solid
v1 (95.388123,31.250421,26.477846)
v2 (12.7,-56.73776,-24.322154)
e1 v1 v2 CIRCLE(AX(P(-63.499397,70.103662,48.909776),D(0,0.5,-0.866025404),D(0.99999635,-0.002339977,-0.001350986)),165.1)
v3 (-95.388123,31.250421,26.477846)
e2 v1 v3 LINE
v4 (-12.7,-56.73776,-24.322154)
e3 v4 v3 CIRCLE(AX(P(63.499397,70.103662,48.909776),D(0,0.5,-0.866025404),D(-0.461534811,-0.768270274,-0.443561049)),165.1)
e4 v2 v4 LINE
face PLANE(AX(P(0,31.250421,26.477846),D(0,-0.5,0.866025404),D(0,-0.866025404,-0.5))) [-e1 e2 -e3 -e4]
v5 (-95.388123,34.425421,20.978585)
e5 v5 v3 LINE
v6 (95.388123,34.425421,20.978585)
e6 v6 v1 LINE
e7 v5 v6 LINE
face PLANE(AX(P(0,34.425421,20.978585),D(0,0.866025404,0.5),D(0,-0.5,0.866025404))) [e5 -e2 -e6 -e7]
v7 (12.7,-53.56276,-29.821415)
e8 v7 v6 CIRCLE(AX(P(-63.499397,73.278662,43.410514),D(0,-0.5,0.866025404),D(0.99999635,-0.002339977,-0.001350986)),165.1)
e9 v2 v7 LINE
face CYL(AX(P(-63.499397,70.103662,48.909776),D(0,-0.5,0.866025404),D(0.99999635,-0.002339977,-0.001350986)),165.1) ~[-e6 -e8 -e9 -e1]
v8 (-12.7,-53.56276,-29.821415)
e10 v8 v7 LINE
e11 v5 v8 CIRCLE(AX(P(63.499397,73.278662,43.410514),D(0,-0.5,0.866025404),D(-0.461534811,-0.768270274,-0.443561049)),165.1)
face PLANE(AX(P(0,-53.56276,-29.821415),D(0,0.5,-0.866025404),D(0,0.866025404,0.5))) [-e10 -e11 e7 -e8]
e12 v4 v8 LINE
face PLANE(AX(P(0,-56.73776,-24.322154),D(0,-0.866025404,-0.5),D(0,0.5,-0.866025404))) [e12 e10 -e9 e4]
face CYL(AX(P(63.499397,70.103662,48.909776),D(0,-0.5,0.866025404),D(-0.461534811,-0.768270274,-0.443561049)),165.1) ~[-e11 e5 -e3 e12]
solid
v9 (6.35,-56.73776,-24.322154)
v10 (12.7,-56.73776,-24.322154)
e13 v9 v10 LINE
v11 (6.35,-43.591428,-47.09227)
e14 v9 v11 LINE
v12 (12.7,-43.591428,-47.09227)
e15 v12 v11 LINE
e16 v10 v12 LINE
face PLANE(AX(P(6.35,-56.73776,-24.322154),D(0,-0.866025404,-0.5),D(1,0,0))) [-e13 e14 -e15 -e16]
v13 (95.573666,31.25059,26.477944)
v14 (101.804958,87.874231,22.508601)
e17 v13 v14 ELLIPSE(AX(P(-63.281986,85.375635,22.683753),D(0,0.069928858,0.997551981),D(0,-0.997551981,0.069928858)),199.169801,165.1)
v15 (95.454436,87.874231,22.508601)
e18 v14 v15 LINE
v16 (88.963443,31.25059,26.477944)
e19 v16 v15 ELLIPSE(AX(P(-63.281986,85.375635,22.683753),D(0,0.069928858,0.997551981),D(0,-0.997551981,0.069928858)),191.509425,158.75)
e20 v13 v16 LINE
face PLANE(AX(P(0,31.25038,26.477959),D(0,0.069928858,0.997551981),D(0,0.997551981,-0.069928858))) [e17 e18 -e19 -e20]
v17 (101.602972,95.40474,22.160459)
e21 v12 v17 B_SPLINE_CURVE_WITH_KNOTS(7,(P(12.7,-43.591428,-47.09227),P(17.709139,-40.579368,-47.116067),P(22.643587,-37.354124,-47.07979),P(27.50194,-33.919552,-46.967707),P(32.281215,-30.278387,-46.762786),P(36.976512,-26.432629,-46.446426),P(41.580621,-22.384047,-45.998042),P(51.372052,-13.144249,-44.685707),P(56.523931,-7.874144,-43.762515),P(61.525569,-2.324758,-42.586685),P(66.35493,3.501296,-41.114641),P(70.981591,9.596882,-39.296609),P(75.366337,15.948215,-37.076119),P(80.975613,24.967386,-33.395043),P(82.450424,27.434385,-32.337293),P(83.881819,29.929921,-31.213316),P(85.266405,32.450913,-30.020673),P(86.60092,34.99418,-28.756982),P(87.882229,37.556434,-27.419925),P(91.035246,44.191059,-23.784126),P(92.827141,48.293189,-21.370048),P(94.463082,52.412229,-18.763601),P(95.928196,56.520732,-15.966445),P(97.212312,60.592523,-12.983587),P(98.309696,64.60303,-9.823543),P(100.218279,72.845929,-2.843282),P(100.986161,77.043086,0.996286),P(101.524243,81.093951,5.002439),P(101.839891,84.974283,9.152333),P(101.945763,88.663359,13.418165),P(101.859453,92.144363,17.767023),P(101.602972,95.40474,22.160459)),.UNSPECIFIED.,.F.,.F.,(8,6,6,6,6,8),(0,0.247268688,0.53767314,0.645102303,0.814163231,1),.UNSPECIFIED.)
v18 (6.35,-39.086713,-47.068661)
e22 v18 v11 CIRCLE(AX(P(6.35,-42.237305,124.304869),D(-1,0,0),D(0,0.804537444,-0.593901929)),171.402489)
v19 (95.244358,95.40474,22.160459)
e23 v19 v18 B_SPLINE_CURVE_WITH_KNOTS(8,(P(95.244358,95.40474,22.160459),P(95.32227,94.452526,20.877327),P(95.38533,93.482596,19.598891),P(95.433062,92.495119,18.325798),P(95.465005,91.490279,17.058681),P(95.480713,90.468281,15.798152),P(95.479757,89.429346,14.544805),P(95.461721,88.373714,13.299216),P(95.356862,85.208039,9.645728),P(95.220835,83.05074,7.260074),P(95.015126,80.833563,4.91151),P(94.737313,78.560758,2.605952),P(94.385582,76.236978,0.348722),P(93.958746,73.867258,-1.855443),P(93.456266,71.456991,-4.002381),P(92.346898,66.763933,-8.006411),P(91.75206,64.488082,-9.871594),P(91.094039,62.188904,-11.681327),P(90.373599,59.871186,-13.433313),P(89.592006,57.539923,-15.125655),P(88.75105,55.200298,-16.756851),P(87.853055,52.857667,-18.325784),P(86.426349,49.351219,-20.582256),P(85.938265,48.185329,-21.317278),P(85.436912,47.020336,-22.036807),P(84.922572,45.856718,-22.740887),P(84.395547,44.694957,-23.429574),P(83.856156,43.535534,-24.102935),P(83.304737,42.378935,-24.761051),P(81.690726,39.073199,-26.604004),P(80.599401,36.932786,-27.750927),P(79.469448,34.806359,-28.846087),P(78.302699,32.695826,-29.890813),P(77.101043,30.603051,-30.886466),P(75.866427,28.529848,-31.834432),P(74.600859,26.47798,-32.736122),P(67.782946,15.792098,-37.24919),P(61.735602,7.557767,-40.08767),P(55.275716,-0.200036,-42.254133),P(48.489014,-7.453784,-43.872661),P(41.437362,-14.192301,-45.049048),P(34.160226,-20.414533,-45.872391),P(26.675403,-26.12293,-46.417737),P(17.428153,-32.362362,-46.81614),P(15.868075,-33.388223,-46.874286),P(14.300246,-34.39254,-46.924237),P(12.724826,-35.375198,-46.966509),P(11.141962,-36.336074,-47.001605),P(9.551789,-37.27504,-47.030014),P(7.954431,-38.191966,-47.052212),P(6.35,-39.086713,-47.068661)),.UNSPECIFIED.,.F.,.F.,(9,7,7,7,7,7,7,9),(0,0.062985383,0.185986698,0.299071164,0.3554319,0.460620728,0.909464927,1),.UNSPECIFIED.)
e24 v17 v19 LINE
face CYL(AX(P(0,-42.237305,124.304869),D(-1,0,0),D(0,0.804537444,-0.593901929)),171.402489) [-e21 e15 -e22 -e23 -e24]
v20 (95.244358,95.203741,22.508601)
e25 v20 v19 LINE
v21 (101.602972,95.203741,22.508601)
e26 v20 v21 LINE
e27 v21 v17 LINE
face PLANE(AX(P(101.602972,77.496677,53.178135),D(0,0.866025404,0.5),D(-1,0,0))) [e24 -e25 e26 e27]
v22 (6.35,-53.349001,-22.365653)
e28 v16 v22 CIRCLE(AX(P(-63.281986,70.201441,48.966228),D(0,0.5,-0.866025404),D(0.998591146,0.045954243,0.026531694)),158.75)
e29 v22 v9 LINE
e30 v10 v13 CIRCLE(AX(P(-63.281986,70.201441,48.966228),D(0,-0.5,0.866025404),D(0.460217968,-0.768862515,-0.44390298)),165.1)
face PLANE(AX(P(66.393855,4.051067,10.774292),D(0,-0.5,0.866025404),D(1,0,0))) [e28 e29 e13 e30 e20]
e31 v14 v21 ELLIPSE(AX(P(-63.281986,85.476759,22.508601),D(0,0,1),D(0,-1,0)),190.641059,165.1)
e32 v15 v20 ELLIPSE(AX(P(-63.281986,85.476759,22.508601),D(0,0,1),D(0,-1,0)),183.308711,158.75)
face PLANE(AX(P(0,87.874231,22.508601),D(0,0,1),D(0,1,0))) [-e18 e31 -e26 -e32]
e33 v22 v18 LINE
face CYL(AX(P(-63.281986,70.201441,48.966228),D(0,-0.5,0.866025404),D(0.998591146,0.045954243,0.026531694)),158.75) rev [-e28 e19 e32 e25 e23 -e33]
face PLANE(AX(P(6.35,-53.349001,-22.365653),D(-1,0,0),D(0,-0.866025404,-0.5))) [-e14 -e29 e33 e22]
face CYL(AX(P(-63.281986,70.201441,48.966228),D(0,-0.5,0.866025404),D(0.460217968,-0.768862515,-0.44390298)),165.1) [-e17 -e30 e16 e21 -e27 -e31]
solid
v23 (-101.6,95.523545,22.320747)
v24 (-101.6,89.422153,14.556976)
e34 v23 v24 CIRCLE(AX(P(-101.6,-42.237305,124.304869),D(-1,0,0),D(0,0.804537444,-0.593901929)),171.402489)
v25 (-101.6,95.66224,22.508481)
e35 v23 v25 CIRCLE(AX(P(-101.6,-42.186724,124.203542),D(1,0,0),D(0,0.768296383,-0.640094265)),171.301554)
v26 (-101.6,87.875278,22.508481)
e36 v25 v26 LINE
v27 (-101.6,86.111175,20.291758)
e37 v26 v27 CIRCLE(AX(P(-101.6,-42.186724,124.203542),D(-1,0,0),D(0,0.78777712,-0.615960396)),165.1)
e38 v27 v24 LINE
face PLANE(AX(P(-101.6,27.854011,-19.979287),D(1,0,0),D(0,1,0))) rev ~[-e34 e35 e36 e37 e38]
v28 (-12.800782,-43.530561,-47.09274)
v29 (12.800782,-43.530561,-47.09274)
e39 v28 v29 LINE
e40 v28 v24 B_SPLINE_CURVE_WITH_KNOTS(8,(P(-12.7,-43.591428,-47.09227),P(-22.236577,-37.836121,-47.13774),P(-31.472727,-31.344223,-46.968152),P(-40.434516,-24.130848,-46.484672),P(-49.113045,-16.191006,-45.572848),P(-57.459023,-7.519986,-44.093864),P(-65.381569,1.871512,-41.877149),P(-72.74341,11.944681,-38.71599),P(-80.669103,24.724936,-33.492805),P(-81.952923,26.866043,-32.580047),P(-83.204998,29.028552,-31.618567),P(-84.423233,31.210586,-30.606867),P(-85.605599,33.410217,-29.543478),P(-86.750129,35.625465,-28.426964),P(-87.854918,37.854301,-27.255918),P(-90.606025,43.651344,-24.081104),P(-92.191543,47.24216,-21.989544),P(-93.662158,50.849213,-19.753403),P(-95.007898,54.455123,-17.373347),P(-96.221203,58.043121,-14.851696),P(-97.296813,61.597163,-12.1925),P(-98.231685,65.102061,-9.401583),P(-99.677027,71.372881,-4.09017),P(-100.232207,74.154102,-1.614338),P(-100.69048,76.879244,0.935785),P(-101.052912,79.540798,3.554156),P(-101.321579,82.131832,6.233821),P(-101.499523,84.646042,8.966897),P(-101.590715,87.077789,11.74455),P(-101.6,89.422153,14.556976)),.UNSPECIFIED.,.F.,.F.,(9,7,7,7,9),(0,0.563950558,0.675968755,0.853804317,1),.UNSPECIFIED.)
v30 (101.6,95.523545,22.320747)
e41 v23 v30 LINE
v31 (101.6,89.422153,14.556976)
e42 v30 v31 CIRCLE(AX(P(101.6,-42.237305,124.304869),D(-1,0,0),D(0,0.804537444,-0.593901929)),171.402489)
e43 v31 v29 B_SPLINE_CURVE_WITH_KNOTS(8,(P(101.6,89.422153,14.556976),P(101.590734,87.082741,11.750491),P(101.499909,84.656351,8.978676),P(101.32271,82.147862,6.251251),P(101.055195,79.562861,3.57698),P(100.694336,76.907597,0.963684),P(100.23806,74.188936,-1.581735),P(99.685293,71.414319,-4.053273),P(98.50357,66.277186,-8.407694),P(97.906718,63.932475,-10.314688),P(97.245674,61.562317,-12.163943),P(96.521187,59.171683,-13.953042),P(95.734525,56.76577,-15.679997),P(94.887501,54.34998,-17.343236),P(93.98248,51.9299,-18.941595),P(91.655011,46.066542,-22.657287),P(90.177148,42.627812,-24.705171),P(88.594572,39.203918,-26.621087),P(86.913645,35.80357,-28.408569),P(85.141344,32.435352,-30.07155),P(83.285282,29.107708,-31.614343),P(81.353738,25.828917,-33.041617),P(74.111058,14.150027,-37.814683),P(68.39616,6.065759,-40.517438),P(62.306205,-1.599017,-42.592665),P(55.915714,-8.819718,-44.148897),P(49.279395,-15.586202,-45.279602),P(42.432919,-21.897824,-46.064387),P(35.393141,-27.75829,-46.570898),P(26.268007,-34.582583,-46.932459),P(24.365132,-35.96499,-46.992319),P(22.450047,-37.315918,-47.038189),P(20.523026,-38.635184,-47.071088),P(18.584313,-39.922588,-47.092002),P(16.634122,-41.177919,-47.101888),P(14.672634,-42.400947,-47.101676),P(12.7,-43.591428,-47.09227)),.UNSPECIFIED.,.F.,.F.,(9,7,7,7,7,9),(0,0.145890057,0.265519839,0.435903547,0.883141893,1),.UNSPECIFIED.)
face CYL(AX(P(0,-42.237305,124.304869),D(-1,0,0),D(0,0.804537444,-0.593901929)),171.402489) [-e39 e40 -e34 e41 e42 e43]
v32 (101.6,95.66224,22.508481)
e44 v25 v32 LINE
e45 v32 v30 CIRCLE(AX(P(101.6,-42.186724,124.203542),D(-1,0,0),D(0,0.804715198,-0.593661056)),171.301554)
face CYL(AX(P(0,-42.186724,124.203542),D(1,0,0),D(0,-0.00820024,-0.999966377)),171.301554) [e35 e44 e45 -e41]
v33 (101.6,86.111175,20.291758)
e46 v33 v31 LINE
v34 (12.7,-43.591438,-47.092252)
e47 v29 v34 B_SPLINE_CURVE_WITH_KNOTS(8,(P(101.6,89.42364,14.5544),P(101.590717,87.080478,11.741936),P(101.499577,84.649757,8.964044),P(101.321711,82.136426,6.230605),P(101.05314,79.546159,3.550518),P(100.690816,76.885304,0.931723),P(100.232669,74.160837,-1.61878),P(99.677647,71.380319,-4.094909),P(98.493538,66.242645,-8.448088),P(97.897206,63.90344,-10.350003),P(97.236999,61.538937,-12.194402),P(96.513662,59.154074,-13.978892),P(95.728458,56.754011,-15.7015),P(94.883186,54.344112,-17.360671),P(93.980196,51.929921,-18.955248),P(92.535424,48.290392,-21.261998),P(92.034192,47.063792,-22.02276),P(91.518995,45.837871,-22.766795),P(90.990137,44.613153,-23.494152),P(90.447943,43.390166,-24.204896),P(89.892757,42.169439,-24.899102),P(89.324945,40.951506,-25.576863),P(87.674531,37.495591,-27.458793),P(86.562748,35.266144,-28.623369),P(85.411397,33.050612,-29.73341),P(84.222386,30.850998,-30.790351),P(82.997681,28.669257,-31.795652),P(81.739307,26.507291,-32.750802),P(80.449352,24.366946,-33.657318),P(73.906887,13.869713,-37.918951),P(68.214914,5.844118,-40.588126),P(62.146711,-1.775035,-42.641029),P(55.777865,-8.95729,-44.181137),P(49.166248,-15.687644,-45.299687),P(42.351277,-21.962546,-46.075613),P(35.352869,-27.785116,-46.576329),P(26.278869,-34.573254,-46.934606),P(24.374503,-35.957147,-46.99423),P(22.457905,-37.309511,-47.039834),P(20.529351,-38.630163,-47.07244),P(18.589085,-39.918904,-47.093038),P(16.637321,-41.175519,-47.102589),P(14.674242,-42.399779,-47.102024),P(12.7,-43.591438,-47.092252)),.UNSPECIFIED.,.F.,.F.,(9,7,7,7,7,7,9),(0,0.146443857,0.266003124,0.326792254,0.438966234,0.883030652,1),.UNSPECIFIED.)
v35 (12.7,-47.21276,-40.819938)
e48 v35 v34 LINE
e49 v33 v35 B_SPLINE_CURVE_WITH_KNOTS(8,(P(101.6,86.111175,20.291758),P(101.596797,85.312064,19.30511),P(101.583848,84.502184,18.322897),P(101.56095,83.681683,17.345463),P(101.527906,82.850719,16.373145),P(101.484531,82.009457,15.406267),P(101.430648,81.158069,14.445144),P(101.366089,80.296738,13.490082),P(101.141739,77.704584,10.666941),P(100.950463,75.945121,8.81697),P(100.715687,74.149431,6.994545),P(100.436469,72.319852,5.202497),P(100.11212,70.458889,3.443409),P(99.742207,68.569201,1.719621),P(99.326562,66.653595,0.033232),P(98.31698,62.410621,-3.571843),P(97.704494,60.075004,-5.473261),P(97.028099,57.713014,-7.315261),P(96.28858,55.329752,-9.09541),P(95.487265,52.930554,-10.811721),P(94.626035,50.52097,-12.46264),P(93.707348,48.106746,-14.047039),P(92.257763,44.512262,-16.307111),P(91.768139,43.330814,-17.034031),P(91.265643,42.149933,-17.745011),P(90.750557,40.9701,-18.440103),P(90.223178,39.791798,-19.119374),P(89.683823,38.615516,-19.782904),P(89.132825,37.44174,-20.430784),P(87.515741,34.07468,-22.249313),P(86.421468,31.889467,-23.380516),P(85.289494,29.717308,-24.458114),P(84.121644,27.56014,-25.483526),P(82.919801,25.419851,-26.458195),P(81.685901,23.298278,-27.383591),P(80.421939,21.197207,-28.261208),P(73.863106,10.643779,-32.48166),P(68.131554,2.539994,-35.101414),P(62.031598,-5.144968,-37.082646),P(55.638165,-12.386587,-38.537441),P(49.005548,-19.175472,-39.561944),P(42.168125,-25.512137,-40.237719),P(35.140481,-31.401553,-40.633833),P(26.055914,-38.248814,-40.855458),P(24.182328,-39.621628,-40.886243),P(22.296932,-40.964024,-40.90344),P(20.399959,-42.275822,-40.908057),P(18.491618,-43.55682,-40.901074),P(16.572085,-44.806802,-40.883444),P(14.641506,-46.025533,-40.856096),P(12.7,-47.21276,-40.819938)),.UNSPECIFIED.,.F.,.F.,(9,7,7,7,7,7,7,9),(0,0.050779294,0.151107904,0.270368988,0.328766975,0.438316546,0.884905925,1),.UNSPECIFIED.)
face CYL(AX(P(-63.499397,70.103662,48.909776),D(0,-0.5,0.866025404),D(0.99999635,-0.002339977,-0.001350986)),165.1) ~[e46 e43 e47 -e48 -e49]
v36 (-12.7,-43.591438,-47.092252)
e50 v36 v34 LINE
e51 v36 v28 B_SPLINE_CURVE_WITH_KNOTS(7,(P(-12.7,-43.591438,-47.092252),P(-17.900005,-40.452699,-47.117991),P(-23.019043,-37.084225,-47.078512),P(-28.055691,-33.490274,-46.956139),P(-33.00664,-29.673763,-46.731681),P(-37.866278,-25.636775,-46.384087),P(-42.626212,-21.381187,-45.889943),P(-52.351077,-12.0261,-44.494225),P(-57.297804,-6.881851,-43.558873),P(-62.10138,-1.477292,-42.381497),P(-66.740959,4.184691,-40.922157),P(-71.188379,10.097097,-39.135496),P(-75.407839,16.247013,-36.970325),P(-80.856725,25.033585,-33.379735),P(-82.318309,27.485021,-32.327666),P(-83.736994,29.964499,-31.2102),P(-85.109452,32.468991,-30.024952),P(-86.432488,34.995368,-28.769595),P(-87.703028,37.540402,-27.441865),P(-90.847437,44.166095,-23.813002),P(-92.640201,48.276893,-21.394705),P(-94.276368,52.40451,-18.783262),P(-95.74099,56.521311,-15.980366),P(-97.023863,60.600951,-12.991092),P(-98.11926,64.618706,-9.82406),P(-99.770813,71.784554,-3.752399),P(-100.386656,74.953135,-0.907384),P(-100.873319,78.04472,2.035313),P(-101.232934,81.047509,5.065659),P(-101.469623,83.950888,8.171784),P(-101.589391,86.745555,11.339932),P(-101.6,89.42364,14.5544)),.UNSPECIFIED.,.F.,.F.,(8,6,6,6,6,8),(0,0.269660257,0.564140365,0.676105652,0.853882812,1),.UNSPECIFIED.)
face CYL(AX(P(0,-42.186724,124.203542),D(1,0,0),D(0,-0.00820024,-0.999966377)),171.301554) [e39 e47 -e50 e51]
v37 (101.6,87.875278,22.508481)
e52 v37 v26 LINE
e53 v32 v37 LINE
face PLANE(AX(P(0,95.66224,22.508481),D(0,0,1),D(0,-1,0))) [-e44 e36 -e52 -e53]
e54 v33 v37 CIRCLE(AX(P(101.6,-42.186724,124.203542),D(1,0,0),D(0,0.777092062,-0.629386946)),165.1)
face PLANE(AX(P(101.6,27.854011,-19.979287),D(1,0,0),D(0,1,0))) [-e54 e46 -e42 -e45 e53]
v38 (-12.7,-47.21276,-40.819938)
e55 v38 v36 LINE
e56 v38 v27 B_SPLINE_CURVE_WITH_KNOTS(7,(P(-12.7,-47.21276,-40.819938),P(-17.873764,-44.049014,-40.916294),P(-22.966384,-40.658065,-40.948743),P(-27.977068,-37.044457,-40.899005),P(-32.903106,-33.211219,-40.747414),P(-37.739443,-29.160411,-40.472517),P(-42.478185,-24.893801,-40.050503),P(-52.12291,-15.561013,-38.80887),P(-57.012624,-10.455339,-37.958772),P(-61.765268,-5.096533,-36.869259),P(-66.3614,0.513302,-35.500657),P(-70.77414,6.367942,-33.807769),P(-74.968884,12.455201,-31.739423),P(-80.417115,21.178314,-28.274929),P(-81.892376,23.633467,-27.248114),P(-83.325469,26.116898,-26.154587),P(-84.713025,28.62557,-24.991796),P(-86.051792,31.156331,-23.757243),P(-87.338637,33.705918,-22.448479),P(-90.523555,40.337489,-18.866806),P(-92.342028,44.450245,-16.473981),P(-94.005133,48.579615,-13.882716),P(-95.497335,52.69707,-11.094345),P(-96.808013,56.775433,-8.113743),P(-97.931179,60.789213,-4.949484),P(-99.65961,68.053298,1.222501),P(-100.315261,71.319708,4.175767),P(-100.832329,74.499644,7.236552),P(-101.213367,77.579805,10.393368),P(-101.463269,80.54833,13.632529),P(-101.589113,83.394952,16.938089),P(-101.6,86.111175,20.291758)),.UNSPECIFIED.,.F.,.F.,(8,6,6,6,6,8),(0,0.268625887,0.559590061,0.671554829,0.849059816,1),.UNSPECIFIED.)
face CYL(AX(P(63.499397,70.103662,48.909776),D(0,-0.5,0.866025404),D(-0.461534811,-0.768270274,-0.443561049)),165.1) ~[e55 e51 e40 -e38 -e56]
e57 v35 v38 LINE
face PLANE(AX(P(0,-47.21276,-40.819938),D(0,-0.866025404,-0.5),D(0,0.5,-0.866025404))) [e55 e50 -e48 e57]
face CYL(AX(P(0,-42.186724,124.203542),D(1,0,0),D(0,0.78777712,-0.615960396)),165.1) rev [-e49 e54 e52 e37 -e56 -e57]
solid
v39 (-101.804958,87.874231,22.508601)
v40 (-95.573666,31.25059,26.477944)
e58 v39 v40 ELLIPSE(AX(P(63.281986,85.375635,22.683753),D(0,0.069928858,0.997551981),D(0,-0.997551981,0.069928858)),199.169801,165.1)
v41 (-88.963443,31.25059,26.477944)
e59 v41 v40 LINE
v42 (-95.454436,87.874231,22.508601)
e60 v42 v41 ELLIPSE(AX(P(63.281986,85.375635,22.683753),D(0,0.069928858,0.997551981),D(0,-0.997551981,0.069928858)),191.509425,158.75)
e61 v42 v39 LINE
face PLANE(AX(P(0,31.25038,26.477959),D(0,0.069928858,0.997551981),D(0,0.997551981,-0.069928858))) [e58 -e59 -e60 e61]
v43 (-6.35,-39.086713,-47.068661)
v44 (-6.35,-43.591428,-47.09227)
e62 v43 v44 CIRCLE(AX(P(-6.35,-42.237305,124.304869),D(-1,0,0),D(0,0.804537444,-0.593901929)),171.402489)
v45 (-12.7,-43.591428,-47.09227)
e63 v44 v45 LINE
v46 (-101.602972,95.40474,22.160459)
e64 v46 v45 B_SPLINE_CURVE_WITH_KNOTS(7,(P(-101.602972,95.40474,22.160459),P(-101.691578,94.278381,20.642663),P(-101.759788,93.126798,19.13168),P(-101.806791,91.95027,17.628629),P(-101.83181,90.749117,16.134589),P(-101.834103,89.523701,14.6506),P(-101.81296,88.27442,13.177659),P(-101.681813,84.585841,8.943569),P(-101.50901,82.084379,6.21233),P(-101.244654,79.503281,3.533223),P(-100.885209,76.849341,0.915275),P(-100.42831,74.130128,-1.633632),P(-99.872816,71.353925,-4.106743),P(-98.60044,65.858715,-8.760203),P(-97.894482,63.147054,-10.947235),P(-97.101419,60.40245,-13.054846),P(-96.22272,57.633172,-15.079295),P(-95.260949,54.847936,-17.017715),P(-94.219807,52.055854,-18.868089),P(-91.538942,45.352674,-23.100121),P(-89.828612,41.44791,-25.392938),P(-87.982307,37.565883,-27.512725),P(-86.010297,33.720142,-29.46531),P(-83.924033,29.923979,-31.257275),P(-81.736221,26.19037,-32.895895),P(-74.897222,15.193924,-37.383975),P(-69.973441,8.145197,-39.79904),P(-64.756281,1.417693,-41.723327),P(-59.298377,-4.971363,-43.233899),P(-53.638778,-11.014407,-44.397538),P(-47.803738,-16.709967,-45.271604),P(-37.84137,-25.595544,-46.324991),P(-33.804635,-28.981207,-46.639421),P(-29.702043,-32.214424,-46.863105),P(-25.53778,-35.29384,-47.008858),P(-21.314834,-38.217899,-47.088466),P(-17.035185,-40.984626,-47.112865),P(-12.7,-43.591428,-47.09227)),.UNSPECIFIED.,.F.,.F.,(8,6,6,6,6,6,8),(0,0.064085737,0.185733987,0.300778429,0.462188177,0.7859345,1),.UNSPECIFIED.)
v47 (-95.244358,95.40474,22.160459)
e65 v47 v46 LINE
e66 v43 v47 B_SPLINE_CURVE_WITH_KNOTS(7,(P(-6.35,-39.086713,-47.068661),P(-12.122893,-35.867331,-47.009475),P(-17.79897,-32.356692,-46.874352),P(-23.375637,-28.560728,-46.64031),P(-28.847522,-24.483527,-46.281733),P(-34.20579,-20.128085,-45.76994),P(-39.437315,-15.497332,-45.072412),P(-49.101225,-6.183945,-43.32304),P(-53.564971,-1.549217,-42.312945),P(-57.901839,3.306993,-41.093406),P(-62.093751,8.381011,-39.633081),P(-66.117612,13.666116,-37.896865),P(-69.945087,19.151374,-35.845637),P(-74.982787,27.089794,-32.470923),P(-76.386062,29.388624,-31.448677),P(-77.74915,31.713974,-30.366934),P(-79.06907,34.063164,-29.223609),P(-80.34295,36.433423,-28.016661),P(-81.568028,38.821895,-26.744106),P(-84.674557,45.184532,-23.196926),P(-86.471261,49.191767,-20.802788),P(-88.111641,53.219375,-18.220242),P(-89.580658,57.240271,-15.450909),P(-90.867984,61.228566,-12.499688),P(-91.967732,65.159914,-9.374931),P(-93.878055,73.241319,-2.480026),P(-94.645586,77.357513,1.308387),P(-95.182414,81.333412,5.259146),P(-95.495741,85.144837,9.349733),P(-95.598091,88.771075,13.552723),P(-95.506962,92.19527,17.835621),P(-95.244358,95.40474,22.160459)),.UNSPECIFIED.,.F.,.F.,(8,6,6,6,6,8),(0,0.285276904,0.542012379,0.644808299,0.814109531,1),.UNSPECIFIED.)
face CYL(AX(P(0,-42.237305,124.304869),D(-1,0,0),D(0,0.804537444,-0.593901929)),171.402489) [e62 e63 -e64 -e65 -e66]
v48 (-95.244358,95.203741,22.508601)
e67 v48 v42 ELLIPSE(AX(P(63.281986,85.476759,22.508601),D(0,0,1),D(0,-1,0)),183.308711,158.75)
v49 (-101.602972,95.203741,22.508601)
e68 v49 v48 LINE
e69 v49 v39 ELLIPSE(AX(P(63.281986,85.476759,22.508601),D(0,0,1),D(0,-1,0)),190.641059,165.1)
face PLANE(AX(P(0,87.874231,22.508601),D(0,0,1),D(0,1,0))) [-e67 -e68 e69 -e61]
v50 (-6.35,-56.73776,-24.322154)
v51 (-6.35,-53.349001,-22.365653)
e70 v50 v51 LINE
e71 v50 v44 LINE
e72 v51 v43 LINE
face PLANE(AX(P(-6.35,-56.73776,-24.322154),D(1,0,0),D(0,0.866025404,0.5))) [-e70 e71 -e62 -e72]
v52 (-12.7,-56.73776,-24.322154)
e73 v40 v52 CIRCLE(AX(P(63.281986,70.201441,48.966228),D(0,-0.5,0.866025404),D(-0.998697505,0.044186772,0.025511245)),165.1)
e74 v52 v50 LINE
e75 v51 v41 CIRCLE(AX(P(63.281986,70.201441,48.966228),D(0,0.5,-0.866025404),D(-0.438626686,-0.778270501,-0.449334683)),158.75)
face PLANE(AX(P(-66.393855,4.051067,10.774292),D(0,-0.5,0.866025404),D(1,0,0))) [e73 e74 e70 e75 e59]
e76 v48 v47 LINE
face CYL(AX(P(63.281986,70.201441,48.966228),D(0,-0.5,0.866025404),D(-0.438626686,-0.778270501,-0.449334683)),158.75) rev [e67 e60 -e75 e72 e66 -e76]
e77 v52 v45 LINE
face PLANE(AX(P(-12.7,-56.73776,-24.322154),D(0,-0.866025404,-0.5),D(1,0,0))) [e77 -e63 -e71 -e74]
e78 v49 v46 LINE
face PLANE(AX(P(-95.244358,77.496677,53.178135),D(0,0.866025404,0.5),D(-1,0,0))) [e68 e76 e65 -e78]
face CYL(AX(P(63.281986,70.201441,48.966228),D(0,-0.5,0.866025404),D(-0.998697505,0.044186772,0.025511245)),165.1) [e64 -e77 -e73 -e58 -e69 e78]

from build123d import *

# Parameters (mm, degrees)
F1_DEPTH      = 101.6
F1_DEPTH_BACK = 101.6
F3_DEPTH      = 62.992
F5_DEPTH      = 50.8
F6_W          = 218.0573865771
F6_H          = 142.2193944454
F7_DEPTH      = 109.22
F7_DEPTH_BACK = 114.3


with BuildPart() as f1:
    # F0 (on Right) → F1 (new body, two sides)
    with BuildSketch(Plane.YZ) as f1_sk:
        with BuildLine():
            Line((-47.2127604418, -40.8199376472), (-43.5914381401, -47.0922518644))
            ThreePointArc((-43.5914381401, -47.0922518644), (34.3986779906, -29.0247138413), (95.6622395582, 22.5084809787))
            Line((95.6622395582, 22.5084809787), (87.8752781813, 22.5084809787))
            ThreePointArc((87.8752781813, 22.5084809787), (27.8926619073, -25.2852185024), (-47.2127604418, -40.8199376472))
        make_face()
    extrude(amount=F1_DEPTH)
    extrude(f1_sk.sketch, amount=-F1_DEPTH_BACK)


with BuildPart() as f1b:
    # F0 (on Right) → F1, piece 2 (new body, two sides)
    with BuildSketch(Plane.YZ) as f1_2_sk:
        Polygon((-56.7377604418, -24.3221537051), (-53.5627604418, -29.8214150191), (34.4254205826, 20.9785849809), (31.2504205826, 26.4778462949), align=None)
    extrude(amount=F1_DEPTH)
    extrude(f1_2_sk.sketch, amount=-F1_DEPTH_BACK)


with BuildPart() as f3_tool:
    # F2 (on face) → F3 (new body)
    with BuildSketch(Plane(origin=(0, -3.6526386188, 6.3265556694), x_dir=(1, 0, 0), z_dir=(0, -0.5, 0.8660254038))):
        with BuildLine():
            Line((-101.6, 84.7203440245), (-101.6, 85.6125354767))
            ThreePointArc((-101.6, 85.6125354767), (-101.6006026704, 85.1664397506), (-101.6, 84.7203440245))
        make_face()
        with BuildLine():
            ThreePointArc((-12.7, -61.297418749), (-77.5203666659, -0.6906284654), (-101.6, 84.7203440245))
            Line((-101.6, 84.7203440245), (-101.6, -61.297418749))
            Line((-101.6, -61.297418749), (-12.7, -61.297418749))
        make_face()
        with BuildLine():
            Line((101.6, -61.297418749), (101.6, 84.7203440245))
            ThreePointArc((101.6, 84.7203440245), (77.5203666659, -0.6906284654), (12.7, -61.297418749))
            Line((12.7, -61.297418749), (101.6, -61.297418749))
        make_face()
        with BuildLine():
            ThreePointArc((101.6, 84.7203440245), (101.6006026704, 85.1664397506), (101.6, 85.6125354767))
            Line((101.6, 85.6125354767), (101.6, 84.7203440245))
        make_face()
    extrude(amount=-F3_DEPTH)


with BuildPart() as f1_1:
    add(f1.part)

    # F3: cut by f3_tool
    add(f3_tool.part, mode=Mode.SUBTRACT)


with BuildPart() as f1b_1:
    add(f1b.part)

    # F3: cut by f3_tool
    add(f3_tool.part, mode=Mode.SUBTRACT)


with BuildPart() as f5:
    # F4 (on face) → F5 (new body)
    with BuildSketch(Plane(origin=(0, -3.6526386188, 6.3265556694), x_dir=(1, 0, 0), z_dir=(0, -0.5, 0.8660254038))):
        with BuildLine():
            Line((-95.2443582139, 93.7031581998), (-101.6029715538, 93.7031581998))
            ThreePointArc((-101.6029715538, 93.7031581998), (-79.9329427522, 3.1362137084), (-12.7, -61.297418749))
            Line((-12.7, -61.297418749), (-6.35, -61.297418749))
            Line((-6.35, -61.297418749), (-6.35, -57.3844169627))
            ThreePointArc((-6.35, -57.3844169627), (-73.5424260517, 4.7769059957), (-95.2443582139, 93.7031581998))
        make_face()
    extrude(amount=-F5_DEPTH)


with BuildPart() as f5b:
    # F4 (on face) → F5, piece 2 (new body)
    with BuildSketch(Plane(origin=(0, -3.6526386188, 6.3265556694), x_dir=(1, 0, 0), z_dir=(0, -0.5, 0.8660254038))):
        with BuildLine():
            Line((6.35, -61.297418749), (12.7, -61.297418749))
            ThreePointArc((12.7, -61.297418749), (79.9329427522, 3.1362137084), (101.6029715538, 93.7031581998))
            Line((101.6029715538, 93.7031581998), (95.2443582139, 93.7031581998))
            ThreePointArc((95.2443582139, 93.7031581998), (73.5424260517, 4.7769059957), (6.35, -57.3844169627))
            Line((6.35, -57.3844169627), (6.35, -61.297418749))
        make_face()
    extrude(amount=-F5_DEPTH)


with BuildPart() as f7_tool:
    # F6 (on Right) → F7 (new body, two sides)
    with BuildSketch(Plane.YZ) as f7_sk:
        with Locations((17.5203569233, -1.9469410181)):
            Rectangle(F6_W, F6_H)
        with BuildLine():
            Line((-56.7377969396, -24.3221706548), (31.2503799796, 26.477959007))
            Line((31.2503799796, 26.477959007), (87.8742308381, 22.5086007267))
            Line((87.8742308381, 22.5086007267), (95.6624150276, 22.5086007267))
            ThreePointArc((95.6624150276, 22.5086007267), (34.3932667097, -29.0136506245), (-43.591439724, -47.0922701061))
            Line((-43.591439724, -47.0922701061), (-56.7377969396, -24.3221706548))
        make_face(mode=Mode.SUBTRACT)
    extrude(amount=-F7_DEPTH)
    extrude(f7_sk.sketch, amount=F7_DEPTH_BACK)


with BuildPart() as f1_2:
    add(f1_1.part)

    # F7: cut by f7_tool
    add(f7_tool.part, mode=Mode.SUBTRACT)


with BuildPart() as f5_1:
    add(f5.part)

    # F7: cut by f7_tool
    add(f7_tool.part, mode=Mode.SUBTRACT)


with BuildPart() as f5b_1:
    add(f5b.part)

    # F7: cut by f7_tool
    add(f7_tool.part, mode=Mode.SUBTRACT)


solid = Compound([f1b_1.part, f1_2.part, f5_1.part, f5b_1.part])
